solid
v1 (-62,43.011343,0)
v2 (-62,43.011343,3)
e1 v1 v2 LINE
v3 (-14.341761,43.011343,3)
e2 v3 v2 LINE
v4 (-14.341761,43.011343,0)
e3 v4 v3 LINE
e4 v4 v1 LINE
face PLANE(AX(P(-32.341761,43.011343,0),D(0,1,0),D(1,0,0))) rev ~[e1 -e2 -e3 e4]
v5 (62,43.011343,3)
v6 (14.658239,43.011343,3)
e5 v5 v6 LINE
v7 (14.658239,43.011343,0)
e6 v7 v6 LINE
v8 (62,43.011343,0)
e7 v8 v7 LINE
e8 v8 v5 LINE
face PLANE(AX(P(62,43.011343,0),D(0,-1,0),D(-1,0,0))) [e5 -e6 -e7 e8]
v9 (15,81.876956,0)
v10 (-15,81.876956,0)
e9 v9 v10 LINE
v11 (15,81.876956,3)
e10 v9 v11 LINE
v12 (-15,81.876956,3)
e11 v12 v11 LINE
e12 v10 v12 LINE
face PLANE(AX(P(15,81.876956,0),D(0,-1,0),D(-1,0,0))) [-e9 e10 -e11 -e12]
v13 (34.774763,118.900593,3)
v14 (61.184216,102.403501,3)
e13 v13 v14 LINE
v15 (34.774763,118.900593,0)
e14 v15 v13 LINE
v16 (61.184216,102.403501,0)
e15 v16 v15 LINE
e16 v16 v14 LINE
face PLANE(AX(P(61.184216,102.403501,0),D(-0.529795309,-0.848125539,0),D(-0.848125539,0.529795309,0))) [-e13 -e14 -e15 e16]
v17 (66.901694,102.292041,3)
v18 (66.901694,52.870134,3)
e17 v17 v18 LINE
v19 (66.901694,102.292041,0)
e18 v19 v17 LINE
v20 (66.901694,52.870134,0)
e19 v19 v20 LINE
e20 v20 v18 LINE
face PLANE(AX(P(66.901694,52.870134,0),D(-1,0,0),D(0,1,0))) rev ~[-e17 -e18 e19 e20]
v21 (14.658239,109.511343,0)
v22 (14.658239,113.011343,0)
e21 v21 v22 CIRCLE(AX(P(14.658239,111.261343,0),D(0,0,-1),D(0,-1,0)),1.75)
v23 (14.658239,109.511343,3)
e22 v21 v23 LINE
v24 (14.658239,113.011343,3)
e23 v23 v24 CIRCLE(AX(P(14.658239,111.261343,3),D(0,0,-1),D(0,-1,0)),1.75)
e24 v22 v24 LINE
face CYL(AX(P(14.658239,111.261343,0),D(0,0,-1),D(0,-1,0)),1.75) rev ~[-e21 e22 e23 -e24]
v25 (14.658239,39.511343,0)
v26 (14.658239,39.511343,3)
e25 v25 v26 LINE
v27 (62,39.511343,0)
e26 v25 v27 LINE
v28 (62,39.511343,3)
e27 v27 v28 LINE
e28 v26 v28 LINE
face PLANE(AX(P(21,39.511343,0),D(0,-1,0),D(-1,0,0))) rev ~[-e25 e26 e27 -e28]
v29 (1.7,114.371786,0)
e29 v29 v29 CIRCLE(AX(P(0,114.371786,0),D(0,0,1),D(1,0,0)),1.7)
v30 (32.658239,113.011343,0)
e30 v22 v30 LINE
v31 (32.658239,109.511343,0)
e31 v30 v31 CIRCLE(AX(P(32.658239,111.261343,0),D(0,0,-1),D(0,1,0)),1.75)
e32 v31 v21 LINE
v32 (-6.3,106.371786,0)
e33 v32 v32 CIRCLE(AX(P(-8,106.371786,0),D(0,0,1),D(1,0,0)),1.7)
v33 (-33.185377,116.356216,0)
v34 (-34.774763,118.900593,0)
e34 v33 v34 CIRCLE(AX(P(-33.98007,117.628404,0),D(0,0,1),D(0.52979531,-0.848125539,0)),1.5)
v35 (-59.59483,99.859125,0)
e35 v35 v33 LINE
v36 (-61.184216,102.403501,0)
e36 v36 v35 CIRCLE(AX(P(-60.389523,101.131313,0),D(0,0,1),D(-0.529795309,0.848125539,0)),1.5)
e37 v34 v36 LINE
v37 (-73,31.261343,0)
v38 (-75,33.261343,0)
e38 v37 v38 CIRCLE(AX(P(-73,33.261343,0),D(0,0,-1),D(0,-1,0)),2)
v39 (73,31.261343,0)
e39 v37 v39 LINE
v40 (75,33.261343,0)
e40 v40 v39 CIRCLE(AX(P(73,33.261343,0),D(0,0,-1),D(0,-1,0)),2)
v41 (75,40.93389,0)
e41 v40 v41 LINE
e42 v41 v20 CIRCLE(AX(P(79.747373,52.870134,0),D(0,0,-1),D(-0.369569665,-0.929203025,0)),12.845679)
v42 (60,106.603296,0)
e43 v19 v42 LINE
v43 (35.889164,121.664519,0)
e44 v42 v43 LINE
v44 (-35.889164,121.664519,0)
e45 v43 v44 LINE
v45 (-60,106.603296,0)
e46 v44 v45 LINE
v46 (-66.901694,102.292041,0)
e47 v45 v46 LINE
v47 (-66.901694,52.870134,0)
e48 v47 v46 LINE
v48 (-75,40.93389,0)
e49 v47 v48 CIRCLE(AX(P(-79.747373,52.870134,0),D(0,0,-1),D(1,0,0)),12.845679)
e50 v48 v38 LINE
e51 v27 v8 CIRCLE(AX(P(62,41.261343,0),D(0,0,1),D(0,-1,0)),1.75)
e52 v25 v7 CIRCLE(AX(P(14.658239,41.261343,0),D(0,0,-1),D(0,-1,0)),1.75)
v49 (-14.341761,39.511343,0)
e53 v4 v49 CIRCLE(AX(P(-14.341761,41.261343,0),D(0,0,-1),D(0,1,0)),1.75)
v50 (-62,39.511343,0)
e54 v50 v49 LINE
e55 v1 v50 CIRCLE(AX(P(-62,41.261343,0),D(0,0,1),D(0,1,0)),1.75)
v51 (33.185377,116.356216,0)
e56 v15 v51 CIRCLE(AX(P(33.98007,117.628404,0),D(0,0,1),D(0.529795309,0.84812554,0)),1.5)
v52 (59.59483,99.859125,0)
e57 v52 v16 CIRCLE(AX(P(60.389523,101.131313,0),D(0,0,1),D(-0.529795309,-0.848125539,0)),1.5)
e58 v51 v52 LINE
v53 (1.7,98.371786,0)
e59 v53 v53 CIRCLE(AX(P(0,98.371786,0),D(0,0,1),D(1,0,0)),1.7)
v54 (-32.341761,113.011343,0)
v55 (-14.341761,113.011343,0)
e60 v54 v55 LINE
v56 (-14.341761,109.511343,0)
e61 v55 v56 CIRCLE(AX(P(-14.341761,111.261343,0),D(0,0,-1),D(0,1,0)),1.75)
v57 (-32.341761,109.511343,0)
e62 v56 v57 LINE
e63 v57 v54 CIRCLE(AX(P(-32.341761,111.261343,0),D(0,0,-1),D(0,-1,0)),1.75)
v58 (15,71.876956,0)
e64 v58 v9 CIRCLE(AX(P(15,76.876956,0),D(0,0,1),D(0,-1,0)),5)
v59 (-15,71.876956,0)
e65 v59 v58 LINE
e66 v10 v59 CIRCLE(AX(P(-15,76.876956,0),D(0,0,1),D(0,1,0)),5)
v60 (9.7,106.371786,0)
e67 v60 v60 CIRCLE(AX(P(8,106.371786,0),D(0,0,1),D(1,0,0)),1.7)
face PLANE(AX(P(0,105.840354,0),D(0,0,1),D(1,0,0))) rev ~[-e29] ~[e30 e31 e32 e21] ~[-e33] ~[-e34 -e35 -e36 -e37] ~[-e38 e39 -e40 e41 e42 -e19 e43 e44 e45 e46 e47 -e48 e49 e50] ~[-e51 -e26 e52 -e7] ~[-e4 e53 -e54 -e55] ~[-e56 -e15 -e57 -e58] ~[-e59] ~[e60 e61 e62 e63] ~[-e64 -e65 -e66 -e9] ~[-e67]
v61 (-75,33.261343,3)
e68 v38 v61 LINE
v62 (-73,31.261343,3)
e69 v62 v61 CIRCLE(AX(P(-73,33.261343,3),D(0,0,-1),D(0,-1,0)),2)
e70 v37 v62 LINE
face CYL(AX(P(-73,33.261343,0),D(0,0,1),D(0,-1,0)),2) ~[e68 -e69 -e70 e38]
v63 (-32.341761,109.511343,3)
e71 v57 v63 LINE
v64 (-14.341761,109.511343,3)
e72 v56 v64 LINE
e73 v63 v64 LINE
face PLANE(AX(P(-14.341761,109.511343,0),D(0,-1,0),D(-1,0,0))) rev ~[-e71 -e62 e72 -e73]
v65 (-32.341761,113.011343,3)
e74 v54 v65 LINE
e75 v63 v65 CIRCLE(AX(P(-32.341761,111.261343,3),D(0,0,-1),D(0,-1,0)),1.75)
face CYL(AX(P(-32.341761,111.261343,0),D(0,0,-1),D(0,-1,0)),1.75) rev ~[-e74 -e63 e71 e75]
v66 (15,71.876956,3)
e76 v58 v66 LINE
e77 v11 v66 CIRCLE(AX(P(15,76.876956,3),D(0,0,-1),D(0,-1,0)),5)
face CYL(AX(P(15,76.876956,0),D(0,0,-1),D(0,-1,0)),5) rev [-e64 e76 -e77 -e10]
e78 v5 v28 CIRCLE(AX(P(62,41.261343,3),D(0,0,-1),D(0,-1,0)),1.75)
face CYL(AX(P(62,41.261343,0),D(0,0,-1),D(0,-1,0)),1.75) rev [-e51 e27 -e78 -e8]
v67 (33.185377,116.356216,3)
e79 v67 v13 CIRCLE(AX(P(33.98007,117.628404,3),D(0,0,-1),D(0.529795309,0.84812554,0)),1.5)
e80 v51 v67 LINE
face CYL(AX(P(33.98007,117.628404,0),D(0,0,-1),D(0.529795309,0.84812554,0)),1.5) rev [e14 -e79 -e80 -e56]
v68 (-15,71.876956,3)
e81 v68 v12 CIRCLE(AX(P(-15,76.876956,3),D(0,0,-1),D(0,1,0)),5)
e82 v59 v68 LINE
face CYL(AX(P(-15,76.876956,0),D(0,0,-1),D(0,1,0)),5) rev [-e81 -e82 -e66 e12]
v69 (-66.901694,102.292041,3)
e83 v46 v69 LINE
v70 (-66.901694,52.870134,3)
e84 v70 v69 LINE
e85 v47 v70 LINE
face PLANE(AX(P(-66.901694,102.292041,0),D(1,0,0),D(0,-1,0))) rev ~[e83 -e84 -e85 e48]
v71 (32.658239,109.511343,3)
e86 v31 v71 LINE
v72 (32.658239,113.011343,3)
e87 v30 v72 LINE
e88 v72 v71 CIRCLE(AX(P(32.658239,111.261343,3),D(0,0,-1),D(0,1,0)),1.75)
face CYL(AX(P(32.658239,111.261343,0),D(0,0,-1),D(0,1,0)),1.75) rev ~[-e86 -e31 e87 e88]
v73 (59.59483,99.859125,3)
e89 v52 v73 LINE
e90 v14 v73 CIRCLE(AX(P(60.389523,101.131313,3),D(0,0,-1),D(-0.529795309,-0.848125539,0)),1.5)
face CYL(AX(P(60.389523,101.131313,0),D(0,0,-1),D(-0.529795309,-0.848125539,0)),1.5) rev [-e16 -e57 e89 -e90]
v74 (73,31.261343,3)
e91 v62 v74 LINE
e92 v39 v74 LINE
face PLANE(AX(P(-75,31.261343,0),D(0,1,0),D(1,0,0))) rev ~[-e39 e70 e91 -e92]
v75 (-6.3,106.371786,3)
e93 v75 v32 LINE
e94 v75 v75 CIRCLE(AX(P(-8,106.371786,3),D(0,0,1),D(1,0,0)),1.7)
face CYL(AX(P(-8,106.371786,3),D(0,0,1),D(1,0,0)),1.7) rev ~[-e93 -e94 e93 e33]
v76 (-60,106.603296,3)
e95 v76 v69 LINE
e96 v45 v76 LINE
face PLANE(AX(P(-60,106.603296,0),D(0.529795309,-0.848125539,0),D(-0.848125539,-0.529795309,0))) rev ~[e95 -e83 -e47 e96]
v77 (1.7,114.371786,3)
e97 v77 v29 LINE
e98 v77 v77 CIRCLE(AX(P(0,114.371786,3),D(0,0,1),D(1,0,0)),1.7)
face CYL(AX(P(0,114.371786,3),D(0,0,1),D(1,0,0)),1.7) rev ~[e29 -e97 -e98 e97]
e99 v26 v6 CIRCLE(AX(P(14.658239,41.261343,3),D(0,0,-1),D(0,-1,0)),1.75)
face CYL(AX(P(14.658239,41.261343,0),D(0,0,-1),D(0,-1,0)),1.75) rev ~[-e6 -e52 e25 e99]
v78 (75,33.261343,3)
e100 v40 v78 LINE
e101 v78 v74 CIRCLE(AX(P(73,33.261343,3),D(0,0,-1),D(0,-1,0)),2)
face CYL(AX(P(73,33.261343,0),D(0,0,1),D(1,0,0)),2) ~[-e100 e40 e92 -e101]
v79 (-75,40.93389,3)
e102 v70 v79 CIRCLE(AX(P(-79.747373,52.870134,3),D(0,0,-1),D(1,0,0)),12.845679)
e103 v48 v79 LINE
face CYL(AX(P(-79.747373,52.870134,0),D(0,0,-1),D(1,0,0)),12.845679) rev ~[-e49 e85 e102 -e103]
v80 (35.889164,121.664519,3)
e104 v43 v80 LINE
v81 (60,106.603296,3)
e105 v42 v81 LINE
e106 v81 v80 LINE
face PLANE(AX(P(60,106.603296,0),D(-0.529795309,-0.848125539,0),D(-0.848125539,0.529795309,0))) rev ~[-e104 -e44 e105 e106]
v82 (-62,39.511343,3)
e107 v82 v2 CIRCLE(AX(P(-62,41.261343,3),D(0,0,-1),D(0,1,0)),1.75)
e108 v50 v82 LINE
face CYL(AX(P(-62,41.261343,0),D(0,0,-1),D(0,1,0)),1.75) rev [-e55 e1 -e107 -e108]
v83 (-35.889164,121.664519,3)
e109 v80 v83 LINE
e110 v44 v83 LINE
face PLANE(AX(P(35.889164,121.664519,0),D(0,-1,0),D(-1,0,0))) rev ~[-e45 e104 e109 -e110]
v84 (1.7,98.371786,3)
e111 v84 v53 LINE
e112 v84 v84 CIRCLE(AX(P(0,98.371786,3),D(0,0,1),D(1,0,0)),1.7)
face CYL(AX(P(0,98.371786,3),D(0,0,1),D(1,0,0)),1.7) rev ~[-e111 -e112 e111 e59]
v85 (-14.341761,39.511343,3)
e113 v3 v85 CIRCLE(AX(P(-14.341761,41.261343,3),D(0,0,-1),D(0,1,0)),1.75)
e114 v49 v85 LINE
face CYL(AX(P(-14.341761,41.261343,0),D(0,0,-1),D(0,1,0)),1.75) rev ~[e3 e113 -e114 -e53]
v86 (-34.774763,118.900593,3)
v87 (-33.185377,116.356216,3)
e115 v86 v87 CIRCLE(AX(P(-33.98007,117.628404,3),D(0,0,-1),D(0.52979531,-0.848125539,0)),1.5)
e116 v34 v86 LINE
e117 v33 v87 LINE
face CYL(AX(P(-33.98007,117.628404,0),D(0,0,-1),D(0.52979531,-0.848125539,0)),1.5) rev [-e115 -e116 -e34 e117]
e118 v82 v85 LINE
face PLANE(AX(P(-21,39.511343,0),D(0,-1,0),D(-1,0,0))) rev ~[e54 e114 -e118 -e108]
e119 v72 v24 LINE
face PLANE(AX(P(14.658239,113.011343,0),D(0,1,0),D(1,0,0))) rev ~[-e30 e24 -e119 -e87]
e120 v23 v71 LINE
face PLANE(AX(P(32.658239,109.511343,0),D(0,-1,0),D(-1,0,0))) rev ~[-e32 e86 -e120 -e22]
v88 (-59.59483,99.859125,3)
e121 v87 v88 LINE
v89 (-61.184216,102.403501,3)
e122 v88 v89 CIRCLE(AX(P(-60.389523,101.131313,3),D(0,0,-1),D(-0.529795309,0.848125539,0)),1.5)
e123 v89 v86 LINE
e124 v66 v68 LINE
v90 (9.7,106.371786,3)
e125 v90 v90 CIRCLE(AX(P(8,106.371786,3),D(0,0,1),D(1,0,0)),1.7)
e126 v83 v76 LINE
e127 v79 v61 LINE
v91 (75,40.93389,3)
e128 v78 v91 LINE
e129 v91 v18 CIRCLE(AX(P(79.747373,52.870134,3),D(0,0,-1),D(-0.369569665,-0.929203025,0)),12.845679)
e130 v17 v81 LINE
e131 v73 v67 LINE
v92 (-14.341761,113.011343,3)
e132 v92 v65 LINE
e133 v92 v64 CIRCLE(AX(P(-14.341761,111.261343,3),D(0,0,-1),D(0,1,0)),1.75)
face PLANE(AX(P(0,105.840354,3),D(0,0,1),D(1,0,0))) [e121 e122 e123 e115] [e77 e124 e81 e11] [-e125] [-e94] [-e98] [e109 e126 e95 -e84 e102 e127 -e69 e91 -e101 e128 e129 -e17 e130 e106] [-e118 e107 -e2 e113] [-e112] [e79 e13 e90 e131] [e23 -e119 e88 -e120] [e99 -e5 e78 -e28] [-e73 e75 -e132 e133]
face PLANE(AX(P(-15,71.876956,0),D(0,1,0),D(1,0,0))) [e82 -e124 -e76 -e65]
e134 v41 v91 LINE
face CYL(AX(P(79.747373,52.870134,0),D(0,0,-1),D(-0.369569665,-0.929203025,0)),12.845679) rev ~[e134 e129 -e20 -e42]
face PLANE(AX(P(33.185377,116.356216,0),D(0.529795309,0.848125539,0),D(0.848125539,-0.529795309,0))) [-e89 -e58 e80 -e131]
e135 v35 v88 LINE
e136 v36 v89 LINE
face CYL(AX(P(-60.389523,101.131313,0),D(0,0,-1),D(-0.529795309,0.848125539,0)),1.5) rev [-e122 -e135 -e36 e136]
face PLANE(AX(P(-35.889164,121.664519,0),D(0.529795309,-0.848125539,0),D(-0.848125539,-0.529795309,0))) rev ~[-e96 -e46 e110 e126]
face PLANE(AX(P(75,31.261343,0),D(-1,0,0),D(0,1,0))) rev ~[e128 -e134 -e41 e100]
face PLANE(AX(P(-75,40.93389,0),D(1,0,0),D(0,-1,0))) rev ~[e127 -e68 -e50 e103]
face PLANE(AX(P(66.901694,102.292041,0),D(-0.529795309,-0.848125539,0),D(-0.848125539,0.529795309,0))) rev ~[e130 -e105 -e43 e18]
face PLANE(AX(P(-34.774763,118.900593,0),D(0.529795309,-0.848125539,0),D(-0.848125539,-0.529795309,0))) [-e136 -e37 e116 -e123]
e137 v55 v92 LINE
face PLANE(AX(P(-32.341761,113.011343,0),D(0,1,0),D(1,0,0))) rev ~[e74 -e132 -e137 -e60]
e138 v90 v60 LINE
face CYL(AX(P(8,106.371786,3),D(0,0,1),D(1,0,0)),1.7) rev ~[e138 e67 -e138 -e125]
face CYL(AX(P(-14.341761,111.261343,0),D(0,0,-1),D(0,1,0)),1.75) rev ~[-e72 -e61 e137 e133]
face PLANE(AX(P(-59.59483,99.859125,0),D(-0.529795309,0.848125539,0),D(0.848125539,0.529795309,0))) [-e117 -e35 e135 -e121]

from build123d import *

# Parameters (mm, degrees)
EXTRUDE_1_DEPTH      = 3
SKETCH_7_R           = 1.75
SKETCH_7_R_2         = 2.25
CUT_EXTRUDE_2_DEPTH  = 143.955430949
CUT_EXTRUDE_4_DEPTH  = 3
CUT_EXTRUDE_5_DEPTH  = 3
CUT_EXTRUDE_8_DEPTH  = 3
SKETCH_12_R          = 1.7
CUT_EXTRUDE_9_DEPTH  = 3
SKETCH_13_R          = 1.7
CUT_EXTRUDE_11_DEPTH = 3
CUT_EXTRUDE_12_DEPTH = 143.955430949
FILLET_1_R           = 2
FILLET_2_R           = 2
CUT_EXTRUDE_13_DEPTH = 143.955430949
CUT_EXTRUDE_15_DEPTH = 143.955430949
CUT_EXTRUDE_16_DEPTH = 143.955430949
SKETCH_20_W          = 133.80338819
SKETCH_20_H          = 42.989432067
EXTRUDE_2_DEPTH      = 3
SKETCH_21_W          = 129.207272524
SKETCH_21_H          = 38.788932745
EXTRUDE_3_DEPTH      = 3
SKETCH_22_W          = 20.868569364
SKETCH_22_H          = 31.210515244
SKETCH_22_W_2        = 21.053246969
SKETCH_22_H_2        = 30.102449614
EXTRUDE_4_DEPTH      = 3
SKETCH_24_W          = 36.300662223
SKETCH_24_H          = 5.953308604
SKETCH_24_W_2        = 36.591067521
EXTRUDE_5_DEPTH      = 3
CUT_EXTRUDE_17_DEPTH = 143.955430949
CUT_EXTRUDE_19_DEPTH = 143.955430949
CUT_EXTRUDE_20_DEPTH = 143.955430949
CUT_EXTRUDE_21_DEPTH = 143.955430949
CUT_EXTRUDE_22_DEPTH = 143.955430949
CUT_EXTRUDE_23_DEPTH = 3
SKETCH_30_W          = 173.170170175
SKETCH_30_H          = 150.145671893
CUT_EXTRUDE_24_DEPTH = 10


with BuildPart() as part:
    # 草图1 → 凸台-拉伸1 (new body)
    with BuildSketch(Plane.XY):
        with BuildLine():
            Line((60, 106.603296002), (35.889163634, 121.664519159))
            Line((35.889163634, 121.664519159), (-35.889163634, 121.664519159))
            Line((-35.889163634, 121.664519159), (-60, 106.603296002))
            Line((-60, 106.603296002), (-60, 94.801892265))
            Line((-60, 94.801892265), (-45, 94.801892265))
            ThreePointArc((-45, 94.801892265), (-43.762563133, 94.289329132), (-43.25, 93.051892265))
            Line((-43.25, 93.051892265), (-37.75, 93.051892265))
            ThreePointArc((-37.75, 93.051892265), (-37.237436867, 94.289329132), (-36, 94.801892265))
            Line((-36, 94.801892265), (-21, 94.801892265))
            ThreePointArc((-21, 94.801892265), (-19.762563133, 94.289329132), (-19.25, 93.051892265))
            Line((-19.25, 93.051892265), (19.25, 93.051892265))
            ThreePointArc((19.25, 93.051892265), (19.762563133, 94.289329132), (21, 94.801892265))
            Line((21, 94.801892265), (36, 94.801892265))
            ThreePointArc((36, 94.801892265), (37.237436867, 94.289329132), (37.75, 93.051892265))
            Line((37.75, 93.051892265), (43.25, 93.051892265))
            ThreePointArc((43.25, 93.051892265), (43.762563133, 94.289329132), (45, 94.801892265))
            Line((45, 94.801892265), (60, 94.801892265))
            Line((60, 94.801892265), (60, 106.603296002))
        make_face()
        with BuildLine():
            Line((66.901694095, 102.292041372), (60, 106.603296002))
            Line((60, 106.603296002), (60, 94.801892265))
            ThreePointArc((60, 94.801892265), (61.237436867, 94.289329132), (61.75, 93.051892265))
            Line((61.75, 93.051892265), (66.901694095, 93.051892265))
            Line((66.901694095, 93.051892265), (66.901694095, 102.292041372))
        make_face()
        with BuildLine():
            Line((-60, 94.801892265), (-60, 106.603296002))
            Line((-60, 106.603296002), (-66.901694095, 102.292041372))
            Line((-66.901694095, 102.292041372), (-66.901694095, 93.051892265))
            Line((-66.901694095, 93.051892265), (-61.75, 93.051892265))
            ThreePointArc((-61.75, 93.051892265), (-61.237436867, 94.289329132), (-60, 94.801892265))
        make_face()
        with BuildLine():
            Line((66.901694095, 63.051892265), (66.901694095, 93.051892265))
            Line((66.901694095, 93.051892265), (61.75, 93.051892265))
            ThreePointArc((61.75, 93.051892265), (61.237436867, 91.814455398), (60, 91.301892265))
            Line((60, 91.301892265), (60, 64.801892265))
            ThreePointArc((60, 64.801892265), (61.237436867, 64.289329132), (61.75, 63.051892265))
            Line((61.75, 63.051892265), (66.901694095, 63.051892265))
        make_face()
        with BuildLine():
            Line((-61.75, 93.051892265), (-66.901694095, 93.051892265))
            Line((-66.901694095, 93.051892265), (-66.901694095, 63.051892265))
            Line((-66.901694095, 63.051892265), (-61.75, 63.051892265))
            ThreePointArc((-61.75, 63.051892265), (-61.237436867, 64.289329132), (-60, 64.801892265))
            Line((-60, 64.801892265), (-60, 91.301892265))
            ThreePointArc((-60, 91.301892265), (-61.237436867, 91.814455398), (-61.75, 93.051892265))
        make_face()
        with BuildLine():
            Line((66.901694095, 52.870133869), (66.901694095, 63.051892265))
            Line((66.901694095, 63.051892265), (61.75, 63.051892265))
            ThreePointArc((61.75, 63.051892265), (61.237436867, 61.814455398), (60, 61.301892265))
            Line((60, 61.301892265), (60, 31.261343001))
            Line((60, 31.261343001), (75, 31.261343001))
            Line((75, 31.261343001), (75, 40.933889795))
            ThreePointArc((75, 40.933889795), (69.117351927, 45.658052319), (66.901694095, 52.870133869))
        make_face()
        with BuildLine():
            Line((60, 64.801892265), (60, 91.301892265))
            Line((60, 91.301892265), (45, 91.301892265))
            ThreePointArc((45, 91.301892265), (43.762563133, 91.814455398), (43.25, 93.051892265))
            Line((43.25, 93.051892265), (37.75, 93.051892265))
            ThreePointArc((37.75, 93.051892265), (37.237436867, 91.814455398), (36, 91.301892265))
            Line((36, 91.301892265), (21, 91.301892265))
            ThreePointArc((21, 91.301892265), (19.762563133, 91.814455398), (19.25, 93.051892265))
            Line((19.25, 93.051892265), (-19.25, 93.051892265))
            ThreePointArc((-19.25, 93.051892265), (-19.762563133, 91.814455398), (-21, 91.301892265))
            Line((-21, 91.301892265), (-36, 91.301892265))
            ThreePointArc((-36, 91.301892265), (-37.237436867, 91.814455398), (-37.75, 93.051892265))
            Line((-37.75, 93.051892265), (-43.25, 93.051892265))
            ThreePointArc((-43.25, 93.051892265), (-43.762563133, 91.814455398), (-45, 91.301892265))
            Line((-45, 91.301892265), (-60, 91.301892265))
            Line((-60, 91.301892265), (-60, 64.801892265))
            Line((-60, 64.801892265), (-45, 64.801892265))
            ThreePointArc((-45, 64.801892265), (-43.762563133, 64.289329132), (-43.25, 63.051892265))
            Line((-43.25, 63.051892265), (-37.75, 63.051892265))
            ThreePointArc((-37.75, 63.051892265), (-37.237436867, 64.289329132), (-36, 64.801892265))
            Line((-36, 64.801892265), (-21, 64.801892265))
            ThreePointArc((-21, 64.801892265), (-19.762563133, 64.289329132), (-19.25, 63.051892265))
            Line((-19.25, 63.051892265), (19.25, 63.051892265))
            ThreePointArc((19.25, 63.051892265), (19.762563133, 64.289329132), (21, 64.801892265))
            Line((21, 64.801892265), (36, 64.801892265))
            ThreePointArc((36, 64.801892265), (37.237436867, 64.289329132), (37.75, 63.051892265))
            Line((37.75, 63.051892265), (43.25, 63.051892265))
            ThreePointArc((43.25, 63.051892265), (43.762563133, 64.289329132), (45, 64.801892265))
            Line((45, 64.801892265), (60, 64.801892265))
        make_face()
        with BuildLine():
            Line((-61.75, 63.051892265), (-66.901694095, 63.051892265))
            Line((-66.901694095, 63.051892265), (-66.901694095, 52.870133869))
            ThreePointArc((-66.901694095, 52.870133869), (-69.117351927, 45.658052319), (-75, 40.933889795))
            Line((-75, 40.933889795), (-75, 31.261343001))
            Line((-75, 31.261343001), (-60, 31.261343001))
            Line((-60, 31.261343001), (-60, 61.301892265))
            ThreePointArc((-60, 61.301892265), (-61.237436867, 61.814455398), (-61.75, 63.051892265))
        make_face()
        with BuildLine():
            Line((60, 31.261343001), (60, 61.301892265))
            Line((60, 61.301892265), (45, 61.301892265))
            ThreePointArc((45, 61.301892265), (43.762563133, 61.814455398), (43.25, 63.051892265))
            Line((43.25, 63.051892265), (37.75, 63.051892265))
            ThreePointArc((37.75, 63.051892265), (37.237436867, 61.814455398), (36, 61.301892265))
            Line((36, 61.301892265), (21, 61.301892265))
            ThreePointArc((21, 61.301892265), (19.762563133, 61.814455398), (19.25, 63.051892265))
            Line((19.25, 63.051892265), (-19.25, 63.051892265))
            ThreePointArc((-19.25, 63.051892265), (-19.762563133, 61.814455398), (-21, 61.301892265))
            Line((-21, 61.301892265), (-36, 61.301892265))
            ThreePointArc((-36, 61.301892265), (-37.237436867, 61.814455398), (-37.75, 63.051892265))
            Line((-37.75, 63.051892265), (-43.25, 63.051892265))
            ThreePointArc((-43.25, 63.051892265), (-43.762563133, 61.814455398), (-45, 61.301892265))
            Line((-45, 61.301892265), (-60, 61.301892265))
            Line((-60, 61.301892265), (-60, 31.261343001))
            Line((-60, 31.261343001), (60, 31.261343001))
        make_face()
        with BuildLine():
            Line((60, -58.312864289), (60, 23.940028391))
            Line((60, 23.940028391), (-60, 23.940028391))
            Line((-60, 23.940028391), (-60, -58.312864289))
            Line((-60, -58.312864289), (-45, -58.312864289))
            ThreePointArc((-45, -58.312864289), (-43.25, -60.062864289), (-45, -61.812864289))
            Line((-45, -61.812864289), (-60, -61.812864289))
            Line((-60, -61.812864289), (-60, -88.312864289))
            Line((-60, -88.312864289), (-45, -88.312864289))
            ThreePointArc((-45, -88.312864289), (-43.25, -90.062864289), (-45, -91.812864289))
            Line((-45, -91.812864289), (-60, -91.812864289))
            Line((-60, -91.812864289), (-60, -111.849967256))
            Line((-60, -111.849967256), (-38.845469114, -105.590576733))
            ThreePointArc((-38.845469114, -105.590576733), (-36.037784492, -104.975210108), (-33.17088573, -104.768665882))
            Line((-33.17088573, -104.768665882), (33.17088573, -104.768665882))
            ThreePointArc((33.17088573, -104.768665882), (36.037784492, -104.975210108), (38.845469114, -105.590576733))
            Line((38.845469114, -105.590576733), (60, -111.849967256))
            Line((60, -111.849967256), (60, -91.812864289))
            Line((60, -91.812864289), (45, -91.812864289))
            ThreePointArc((45, -91.812864289), (43.762563133, -91.300301156), (43.25, -90.062864289))
            ThreePointArc((43.25, -90.062864289), (43.762563133, -88.825427422), (45, -88.312864289))
            Line((45, -88.312864289), (60, -88.312864289))
            Line((60, -88.312864289), (60, -61.812864289))
            Line((60, -61.812864289), (45, -61.812864289))
            ThreePointArc((45, -61.812864289), (43.762563133, -61.300301156), (43.25, -60.062864289))
            ThreePointArc((43.25, -60.062864289), (43.762563133, -58.825427422), (45, -58.312864289))
            Line((45, -58.312864289), (60, -58.312864289))
        make_face()
        with BuildLine():
            ThreePointArc((-21, -88.312864289), (-19.762563133, -88.825427422), (-19.25, -90.062864289))
            ThreePointArc((-19.25, -90.062864289), (-19.762563133, -91.300301156), (-21, -91.812864289))
            Line((-21, -91.812864289), (-36, -91.812864289))
            ThreePointArc((-36, -91.812864289), (-37.75, -90.062864289), (-36, -88.312864289))
            Line((-36, -88.312864289), (-21, -88.312864289))
        make_face(mode=Mode.SUBTRACT)
        with BuildLine():
            ThreePointArc((-21, -58.312864289), (-19.762563133, -58.825427422), (-19.25, -60.062864289))
            ThreePointArc((-19.25, -60.062864289), (-19.762563133, -61.300301156), (-21, -61.812864289))
            Line((-21, -61.812864289), (-36, -61.812864289))
            ThreePointArc((-36, -61.812864289), (-37.75, -60.062864289), (-36, -58.312864289))
            Line((-36, -58.312864289), (-21, -58.312864289))
        make_face(mode=Mode.SUBTRACT)
        with BuildLine():
            ThreePointArc((36, -88.312864289), (37.237436867, -88.825427422), (37.75, -90.062864289))
            ThreePointArc((37.75, -90.062864289), (37.237436867, -91.300301156), (36, -91.812864289))
            Line((36, -91.812864289), (21, -91.812864289))
            ThreePointArc((21, -91.812864289), (19.762563133, -91.300301156), (19.25, -90.062864289))
            ThreePointArc((19.25, -90.062864289), (19.762563133, -88.825427422), (21, -88.312864289))
            Line((21, -88.312864289), (36, -88.312864289))
        make_face(mode=Mode.SUBTRACT)
        with BuildLine():
            ThreePointArc((36, -58.312864289), (37.237436867, -58.825427422), (37.75, -60.062864289))
            ThreePointArc((37.75, -60.062864289), (37.237436867, -61.300301156), (36, -61.812864289))
            Line((36, -61.812864289), (21, -61.812864289))
            ThreePointArc((21, -61.812864289), (19.762563133, -61.300301156), (19.25, -60.062864289))
            ThreePointArc((19.25, -60.062864289), (19.762563133, -58.825427422), (21, -58.312864289))
            Line((21, -58.312864289), (36, -58.312864289))
        make_face(mode=Mode.SUBTRACT)
        with BuildLine():
            Line((75, 23.940028391), (60, 23.940028391))
            Line((60, 23.940028391), (60, -58.312864289))
            ThreePointArc((60, -58.312864289), (61.237436867, -58.825427422), (61.75, -60.062864289))
            Line((61.75, -60.062864289), (67.402721334, -60.062864289))
            add(Edge.make_bspline(
                [(75, 10.562559835), (72.695878257, 1.907314233), (70.339582535, -13.372796253), (67.818206704, -36.939032951), (67.208860388, -51.77269444), (67.402721334, -60.062864289)],
                knots=[0, 0, 0, 0, 0.235246678, 0.40629419, 0.624108181, 0.624108181, 0.624108181, 0.624108181], degree=3))
            Line((75, 10.562559835), (75, 23.940028391))
        make_face()
        with BuildLine():
            Line((-60, -58.312864289), (-60, 23.940028391))
            Line((-60, 23.940028391), (-75, 23.940028391))
            Line((-75, 23.940028391), (-75, 10.562559835))
            add(Edge.make_bspline(
                [(-75, 10.562559835), (-72.695878257, 1.907314233), (-70.339582535, -13.372796253), (-67.818206704, -36.939032951), (-67.208860388, -51.77269444), (-67.402721334, -60.062864289)],
                knots=[0, 0, 0, 0, 0.235246678, 0.40629419, 0.624108181, 0.624108181, 0.624108181, 0.624108181], degree=3))
            add(Edge.make_bspline(
                [(-67.402721334, -60.062864289), (-67.560325872, -66.802583754), (-68.323504015, -76.843670093), (-70.154131955, -86.778530076), (-70.533712858, -90.062864289)],
                knots=[0.624108181, 0.624108181, 0.624108181, 0.624108181, 0.801186001, 0.888408652, 0.888408652, 0.888408652, 0.888408652], degree=3))
            add(Edge.make_bspline(
                [(-70.533712858, -90.062864289), (-71.019342956, -94.264792095), (-71.137422935, -98.476048206), (-70.1742624, -102.732794059)],
                knots=[0.888408652, 0.888408652, 0.888408652, 0.888408652, 1, 1, 1, 1], degree=3))
            Line((-70.1742624, -102.732794059), (-66.460817635, -113.761651372))
            Line((-66.460817635, -113.761651372), (-60, -111.849967256))
            Line((-60, -111.849967256), (-60, -91.812864289))
            ThreePointArc((-60, -91.812864289), (-61.75, -90.062864289), (-60, -88.312864289))
            Line((-60, -88.312864289), (-60, -61.812864289))
            ThreePointArc((-60, -61.812864289), (-61.75, -60.062864289), (-60, -58.312864289))
        make_face()
        with BuildLine():
            Line((67.402721334, -60.062864289), (61.75, -60.062864289))
            ThreePointArc((61.75, -60.062864289), (61.237436867, -61.300301156), (60, -61.812864289))
            Line((60, -61.812864289), (60, -88.312864289))
            ThreePointArc((60, -88.312864289), (61.237436867, -88.825427422), (61.75, -90.062864289))
            Line((61.75, -90.062864289), (70.533712858, -90.062864289))
            add(Edge.make_bspline(
                [(67.402721334, -60.062864289), (67.560325872, -66.802583754), (68.323504015, -76.843670093), (70.154131955, -86.778530076), (70.533712858, -90.062864289)],
                knots=[0.624108181, 0.624108181, 0.624108181, 0.624108181, 0.801186001, 0.888408652, 0.888408652, 0.888408652, 0.888408652], degree=3))
        make_face()
        with BuildLine():
            add(Edge.make_bspline(
                [(70.533712858, -90.062864289), (71.019342956, -94.264792095), (71.137422935, -98.476048206), (70.1742624, -102.732794059)],
                knots=[0.888408652, 0.888408652, 0.888408652, 0.888408652, 1, 1, 1, 1], degree=3))
            Line((70.533712858, -90.062864289), (61.75, -90.062864289))
            ThreePointArc((61.75, -90.062864289), (61.237436867, -91.300301156), (60, -91.812864289))
            Line((60, -91.812864289), (60, -111.849967256))
            Line((60, -111.849967256), (66.460817635, -113.761651372))
            Line((66.460817635, -113.761651372), (70.1742624, -102.732794059))
        make_face()
    extrude(amount=EXTRUDE_1_DEPTH)

    # 草图7 → 切除-拉伸2 (cut, through all)
    with BuildSketch(Plane(origin=(0, 0, 0), x_dir=(-1, 0, 0), z_dir=(0, 0, -1))):
        with Locations((-21, 41.261343001)):
            Circle(SKETCH_7_R)
        with Locations((21, 41.261343001)):
            Circle(SKETCH_7_R)
        with Locations((-21, 13.940028391)):
            Circle(SKETCH_7_R_2)
        with Locations((21, 13.940028391)):
            Circle(SKETCH_7_R_2)
    extrude(amount=-CUT_EXTRUDE_2_DEPTH, mode=Mode.SUBTRACT)

    # 草图9 → 切除-拉伸4 (cut)
    with BuildSketch(Plane.XY.offset(3)):
        with BuildLine():
            Line((55, -100.49704609), (20, -100.49704609))
            ThreePointArc((20, -100.49704609), (18.25, -98.74704609), (20, -96.99704609))
            Line((20, -96.99704609), (55, -96.99704609))
            ThreePointArc((55, -96.99704609), (56.75, -98.74704609), (55, -100.49704609))
        make_face()
        with BuildLine():
            Line((-55, -96.99704609), (-20, -96.99704609))
            ThreePointArc((-20, -96.99704609), (-18.25, -98.74704609), (-20, -100.49704609))
            Line((-20, -100.49704609), (-55, -100.49704609))
            ThreePointArc((-55, -100.49704609), (-56.75, -98.74704609), (-55, -96.99704609))
        make_face()
    extrude(amount=-CUT_EXTRUDE_4_DEPTH, mode=Mode.SUBTRACT)

    # 草图10 → 切除-拉伸5 (cut)
    with BuildSketch(Plane.XY.offset(3)):
        with BuildLine():
            Line((12.5, -80.062864289), (-12.5, -80.062864289))
            ThreePointArc((-12.5, -80.062864289), (-17.5, -75.062864289), (-12.5, -70.062864289))
            Line((-12.5, -70.062864289), (12.5, -70.062864289))
            ThreePointArc((12.5, -70.062864289), (17.5, -75.062864289), (12.5, -80.062864289))
        make_face()
    extrude(amount=-CUT_EXTRUDE_5_DEPTH, mode=Mode.SUBTRACT)

    # 草图11 → 切除-拉伸8 (cut)
    with BuildSketch(Plane.XY.offset(3)):
        with BuildLine():
            Line((15, 73.051892265), (-15, 73.051892265))
            ThreePointArc((-15, 73.051892265), (-20, 78.051892265), (-15, 83.051892265))
            Line((-15, 83.051892265), (15, 83.051892265))
            ThreePointArc((15, 83.051892265), (20, 78.051892265), (15, 73.051892265))
        make_face()
    extrude(amount=-CUT_EXTRUDE_8_DEPTH, mode=Mode.SUBTRACT)

    # 草图12 → 切除-拉伸9 (cut)
    with BuildSketch(Plane.XY.offset(3)):
        with Locations((0, 114.371786435)):
            Circle(SKETCH_12_R)
        with Locations((0, 98.371786435)):
            Circle(SKETCH_12_R)
        with Locations((8, 106.371786435)):
            Circle(SKETCH_12_R)
        with Locations((-8, 106.371786435)):
            Circle(SKETCH_12_R)
    extrude(amount=-CUT_EXTRUDE_9_DEPTH, mode=Mode.SUBTRACT)

    # 草图13 → 切除-拉伸11 (cut)
    with BuildSketch(Plane.XY.offset(3)):
        with Locations((0, -84.415765086)):
            Circle(SKETCH_13_R)
        with Locations((8, -92.415765086)):
            Circle(SKETCH_13_R)
        with Locations((0, -100.415765086)):
            Circle(SKETCH_13_R)
        with Locations((-8, -92.415765086)):
            Circle(SKETCH_13_R)
    extrude(amount=-CUT_EXTRUDE_11_DEPTH, mode=Mode.SUBTRACT)

    # 草图14 → 切除-拉伸12 (cut, through all)
    with BuildSketch(Plane.XY.offset(3)):
        with BuildLine():
            Line((-55.475501567, 8.919687236), (-55.475501567, -46.080312764))
            ThreePointArc((-55.475501567, -46.080312764), (-57.225501567, -47.830312764), (-58.975501567, -46.080312764))
            Line((-58.975501567, -46.080312764), (-58.975501567, 8.919687236))
            ThreePointArc((-58.975501567, 8.919687236), (-57.225501567, 10.669687236), (-55.475501567, 8.919687236))
        make_face()
        with BuildLine():
            Line((58.975501567, 8.919687236), (58.975501567, -46.080312764))
            ThreePointArc((58.975501567, -46.080312764), (57.225501567, -47.830312764), (55.475501567, -46.080312764))
            Line((55.475501567, -46.080312764), (55.475501567, 8.919687236))
            ThreePointArc((55.475501567, 8.919687236), (57.225501567, 10.669687236), (58.975501567, 8.919687236))
        make_face()
    extrude(amount=-CUT_EXTRUDE_12_DEPTH, mode=Mode.SUBTRACT)

    # 圆角1
    fillet_1_edges = [part.edges().sort_by_distance(p)[0] for p in [
        (75, 31.261343001, 1.5),
        (-75, 31.261343001, 1.5),
    ]]
    fillet(fillet_1_edges, radius=FILLET_1_R)

    # 圆角2
    fillet_2_edges = [part.edges().sort_by_distance(p)[0] for p in [
        (-75, 23.940028391, 1.5),
        (75, 23.940028391, 1.5),
    ]]
    fillet(fillet_2_edges, radius=FILLET_2_R)

    # 草图15 → 切除-拉伸13 (cut, through all)
    with BuildSketch(Plane(origin=(0, 0, 0), x_dir=(-1, 0, 0), z_dir=(0, 0, -1))):
        with BuildLine():
            Line((-61.184216401, 102.403501276), (-34.774762862, 118.900592756))
            ThreePointArc((-34.774762862, 118.900592756), (-32.70788159, 118.423097411), (-33.185376934, 116.356216138))
            Line((-33.185376934, 116.356216138), (-59.594830473, 99.859124658))
            ThreePointArc((-59.594830473, 99.859124658), (-61.661711746, 100.336620003), (-61.184216401, 102.403501276))
        make_face()
        with BuildLine():
            Line((59.594830473, 99.859124658), (33.185376934, 116.356216138))
            ThreePointArc((33.185376934, 116.356216138), (32.70788159, 118.423097411), (34.774762862, 118.900592756))
            Line((34.774762862, 118.900592756), (61.184216401, 102.403501276))
            ThreePointArc((61.184216401, 102.403501276), (61.661711746, 100.336620003), (59.594830473, 99.859124658))
        make_face()
    extrude(amount=-CUT_EXTRUDE_13_DEPTH, mode=Mode.SUBTRACT)

    # 草图17 → 切除-拉伸15 (cut, through all)
    with BuildSketch(Plane(origin=(0, 0, 0), x_dir=(-1, 0, 0), z_dir=(0, 0, -1))):
        Polygon((-28.645414283, -8.118433382), (-34.644957411, -20.11751964), (-34.644957411, -29.946558382), (-37.580904049, -29.946558382), (-37.580904049, -20.11751964), (-43.580447177, -8.118433382), (-40.64450054, -8.118433382), (-36.176755657, -17.43687271), (-36.049105803, -17.43687271), (-31.58136092, -8.118433382), align=None)
    extrude(amount=-CUT_EXTRUDE_15_DEPTH, mode=Mode.SUBTRACT)

    # 草图18 → 切除-拉伸16 (cut, through all)
    with BuildSketch(Plane(origin=(0, 0, 0), x_dir=(-1, 0, 0), z_dir=(0, 0, -1))):
        Polygon((46.06697123, -29.087529791), (43.131024593, -29.087529791), (43.131024593, -18.875541487), (35.854982926, -18.875541487), (35.854982926, -29.087529791), (32.919036289, -29.087529791), (32.919036289, -7.259404791), (35.854982926, -7.259404791), (35.854982926, -16.450194265), (43.131024593, -16.450194265), (43.131024593, -7.259404791), (46.06697123, -7.259404791), align=None)
    extrude(amount=-CUT_EXTRUDE_16_DEPTH, mode=Mode.SUBTRACT)

    # 草图20 → 凸台-拉伸2 (add)
    with BuildSketch(Plane(origin=(0, 0, 0), x_dir=(-1, 0, 0), z_dir=(0, 0, -1))):
        with Locations((0, 74.364849902)):
            Rectangle(SKETCH_20_W, SKETCH_20_H)
    extrude(amount=-EXTRUDE_2_DEPTH)

    # 草图21 → 凸台-拉伸3 (add)
    with BuildSketch(Plane(origin=(0, 0, 0), x_dir=(-1, 0, 0), z_dir=(0, 0, -1))):
        with Locations((-0.162688936, -75.817262983)):
            Rectangle(SKETCH_21_W, SKETCH_21_H)
    extrude(amount=-EXTRUDE_3_DEPTH)

    # 草图22 → 凸台-拉伸4 (add)
    with BuildSketch(Plane(origin=(0, 0, 0), x_dir=(-1, 0, 0), z_dir=(0, 0, -1))):
        with Locations((-36.28455521, -18.718035035)):
            Rectangle(SKETCH_22_W, SKETCH_22_H)
        with Locations((39.340924035, -18.16400222)):
            Rectangle(SKETCH_22_W_2, SKETCH_22_H_2)
    extrude(amount=-EXTRUDE_4_DEPTH)

    # 草图24 → 凸台-拉伸5 (add)
    with BuildSketch(Plane(origin=(0, 0, 0), x_dir=(-1, 0, 0), z_dir=(0, 0, -1))):
        with Locations((-46.84572901, 41.350914957)):
            Rectangle(SKETCH_24_W, SKETCH_24_H)
        with Locations((47.53599277, 41.350914957)):
            Rectangle(SKETCH_24_W_2, SKETCH_24_H)
    extrude(amount=-EXTRUDE_5_DEPTH)

    # 草图25 → 切除-拉伸17 (cut, through all)
    with BuildSketch(Plane(origin=(0, 0, 0), x_dir=(-1, 0, 0), z_dir=(0, 0, -1))):
        with BuildLine():
            Line((-14.658238954, 113.011343001), (-32.658238954, 113.011343001))
            ThreePointArc((-32.658238954, 113.011343001), (-34.408238954, 111.261343001), (-32.658238954, 109.511343001))
            Line((-32.658238954, 109.511343001), (-14.658238954, 109.511343001))
            ThreePointArc((-14.658238954, 109.511343001), (-12.908238954, 111.261343001), (-14.658238954, 113.011343001))
        make_face()
        with BuildLine():
            Line((-20.999999982, 43.011343001), (-32.658238954, 43.011343001))
            ThreePointArc((-32.658238954, 43.011343001), (-34.408238954, 41.261343001), (-32.658238954, 39.511343001))
            Line((-32.658238954, 39.511343001), (-21, 39.511343001))
            ThreePointArc((-21, 39.511343001), (-22.75, 41.26134301), (-20.999999982, 43.011343001))
        make_face()
        with BuildLine():
            ThreePointArc((14.341761046, 113.011343001), (12.591761046, 111.261343001), (14.341761046, 109.511343001))
            Line((14.341761046, 109.511343001), (32.341761046, 109.511343001))
            ThreePointArc((32.341761046, 109.511343001), (34.091761046, 111.261343001), (32.341761046, 113.011343001))
            Line((32.341761046, 113.011343001), (14.341761046, 113.011343001))
        make_face()
        with BuildLine():
            Line((-14.658238954, 43.011343001), (-20.999999982, 43.011343001))
            ThreePointArc((-20.999999982, 43.011343001), (-19.25, 41.261342991), (-21, 39.511343001))
            Line((-21, 39.511343001), (-14.658238954, 39.511343001))
            ThreePointArc((-14.658238954, 39.511343001), (-12.908238954, 41.261343001), (-14.658238954, 43.011343001))
        make_face()
        with BuildLine():
            ThreePointArc((32.341761046, 39.511343001), (34.091761046, 41.261343001), (32.341761046, 43.011343001))
            Line((32.341761046, 43.011343001), (21, 43.011343001))
            ThreePointArc((21, 43.011343001), (22.75, 41.261343001), (21, 39.511343001))
            Line((21, 39.511343001), (32.341761046, 39.511343001))
        make_face()
        with BuildLine():
            ThreePointArc((14.341761046, 43.011343001), (12.591761046, 41.261343001), (14.341761046, 39.511343001))
            Line((14.341761046, 39.511343001), (21, 39.511343001))
            ThreePointArc((21, 39.511343001), (19.25, 41.261343001), (21, 43.011343001))
            Line((21, 43.011343001), (14.341761046, 43.011343001))
        make_face()
    extrude(amount=-CUT_EXTRUDE_17_DEPTH, mode=Mode.SUBTRACT)

    # 草图16 → 切除-拉伸19 (cut, through all)
    with BuildSketch(Plane(origin=(0, 0, 0), x_dir=(-1, 0, 0), z_dir=(0, 0, -1))):
        with BuildLine():
            Line((-62, 43.011343001), (-32, 43.011343001))
            ThreePointArc((-32, 43.011343001), (-30.25, 41.261343001), (-32, 39.511343001))
            Line((-32, 39.511343001), (-62, 39.511343001))
            ThreePointArc((-62, 39.511343001), (-63.75, 41.261343001), (-62, 43.011343001))
        make_face()
        with BuildLine():
            Line((62, 39.511343001), (32, 39.511343001))
            ThreePointArc((32, 39.511343001), (30.25, 41.261343001), (32, 43.011343001))
            Line((32, 43.011343001), (62, 43.011343001))
            ThreePointArc((62, 43.011343001), (63.75, 41.261343001), (62, 39.511343001))
        make_face()
    extrude(amount=-CUT_EXTRUDE_19_DEPTH, mode=Mode.SUBTRACT)

    # 草图26 → 切除-拉伸20 (cut, through all)
    with BuildSketch(Plane(origin=(0, 0, 0), x_dir=(-1, 0, 0), z_dir=(0, 0, -1))):
        with BuildLine():
            Line((15, 71.876956146), (-15, 71.876956146))
            ThreePointArc((-15, 71.876956146), (-20, 76.876956146), (-15, 81.876956146))
            Line((-15, 81.876956146), (15, 81.876956146))
            ThreePointArc((15, 81.876956146), (20, 76.876956146), (15, 71.876956146))
        make_face()
    extrude(amount=-CUT_EXTRUDE_20_DEPTH, mode=Mode.SUBTRACT)

    # 草图27 → 切除-拉伸21 (cut, through all)
    with BuildSketch(Plane(origin=(0, 0, 0), x_dir=(-1, 0, 0), z_dir=(0, 0, -1))):
        with BuildLine():
            Line((-10, -15.809971609), (-42.5, -15.809971609))
            ThreePointArc((-42.5, -15.809971609), (-44.25, -17.559971609), (-42.5, -19.309971609))
            Line((-42.5, -19.309971609), (-10, -19.309971609))
            ThreePointArc((-10, -19.309971609), (-8.25, -17.559971609), (-10, -15.809971609))
        make_face()
        with BuildLine():
            ThreePointArc((-42.5, 7.190028391), (-44.25, 5.440028391), (-42.5, 3.690028391))
            Line((-42.5, 3.690028391), (-10, 3.690028391))
            ThreePointArc((-10, 3.690028391), (-8.25, 5.440028391), (-10, 7.190028391))
            Line((-10, 7.190028391), (-42.5, 7.190028391))
        make_face()
        with BuildLine():
            Line((42.5, -15.809971609), (10, -15.809971609))
            ThreePointArc((10, -15.809971609), (8.25, -17.559971609), (10, -19.309971609))
            Line((10, -19.309971609), (42.5, -19.309971609))
            ThreePointArc((42.5, -19.309971609), (44.25, -17.559971609), (42.5, -15.809971609))
        make_face()
        with BuildLine():
            Line((42.5, 7.190028391), (10, 7.190028391))
            ThreePointArc((10, 7.190028391), (8.25, 5.440028391), (10, 3.690028391))
            Line((10, 3.690028391), (42.5, 3.690028391))
            ThreePointArc((42.5, 3.690028391), (44.25, 5.440028391), (42.5, 7.190028391))
        make_face()
    extrude(amount=-CUT_EXTRUDE_21_DEPTH, mode=Mode.SUBTRACT)

    # 草图28 → 切除-拉伸22 (cut, through all)
    with BuildSketch(Plane(origin=(0, 0, 0), x_dir=(-1, 0, 0), z_dir=(0, 0, -1))):
        with BuildLine():
            ThreePointArc((0, -48.812330529), (-7.86916468, -46.39674179), (-10.284753419, -54.26590647))
            ThreePointArc((-10.284753419, -54.26590647), (-5.977554294, -59.915955393), (0, -63.755729058))
            ThreePointArc((0, -63.755729058), (5.977554294, -59.915955393), (10.284753419, -54.26590647))
            ThreePointArc((10.284753419, -54.26590647), (7.86916468, -46.39674179), (0, -48.812330529))
        make_face()
    extrude(amount=-CUT_EXTRUDE_22_DEPTH, mode=Mode.SUBTRACT)

    # 草图29 → 切除-拉伸23 (cut)
    with BuildSketch(Plane(origin=(0, 0, 0), x_dir=(-1, 0, 0), z_dir=(0, 0, -1))):
        with BuildLine():
            ThreePointArc((-21.368709037, -73.490793052), (0, -84.713248851), (21.368709037, -73.490793052))
            ThreePointArc((21.368709037, -73.490793052), (23.760053677, -73.051240341), (24.199606389, -75.442584981))
            ThreePointArc((24.199606389, -75.442584981), (0, -88.151776376), (-24.199606389, -75.442584981))
            ThreePointArc((-24.199606389, -75.442584981), (-23.760053677, -73.051240341), (-21.368709037, -73.490793052))
        make_face()
    extrude(amount=-CUT_EXTRUDE_23_DEPTH, mode=Mode.SUBTRACT)

    # 草图30 → 切除-拉伸24 (cut)
    with BuildSketch(Plane.XY.offset(3)):
        with Locations((4.215753206, -48.583336833)):
            Rectangle(SKETCH_30_W, SKETCH_30_H)
    extrude(amount=-CUT_EXTRUDE_24_DEPTH, mode=Mode.SUBTRACT)


solid = part.part
